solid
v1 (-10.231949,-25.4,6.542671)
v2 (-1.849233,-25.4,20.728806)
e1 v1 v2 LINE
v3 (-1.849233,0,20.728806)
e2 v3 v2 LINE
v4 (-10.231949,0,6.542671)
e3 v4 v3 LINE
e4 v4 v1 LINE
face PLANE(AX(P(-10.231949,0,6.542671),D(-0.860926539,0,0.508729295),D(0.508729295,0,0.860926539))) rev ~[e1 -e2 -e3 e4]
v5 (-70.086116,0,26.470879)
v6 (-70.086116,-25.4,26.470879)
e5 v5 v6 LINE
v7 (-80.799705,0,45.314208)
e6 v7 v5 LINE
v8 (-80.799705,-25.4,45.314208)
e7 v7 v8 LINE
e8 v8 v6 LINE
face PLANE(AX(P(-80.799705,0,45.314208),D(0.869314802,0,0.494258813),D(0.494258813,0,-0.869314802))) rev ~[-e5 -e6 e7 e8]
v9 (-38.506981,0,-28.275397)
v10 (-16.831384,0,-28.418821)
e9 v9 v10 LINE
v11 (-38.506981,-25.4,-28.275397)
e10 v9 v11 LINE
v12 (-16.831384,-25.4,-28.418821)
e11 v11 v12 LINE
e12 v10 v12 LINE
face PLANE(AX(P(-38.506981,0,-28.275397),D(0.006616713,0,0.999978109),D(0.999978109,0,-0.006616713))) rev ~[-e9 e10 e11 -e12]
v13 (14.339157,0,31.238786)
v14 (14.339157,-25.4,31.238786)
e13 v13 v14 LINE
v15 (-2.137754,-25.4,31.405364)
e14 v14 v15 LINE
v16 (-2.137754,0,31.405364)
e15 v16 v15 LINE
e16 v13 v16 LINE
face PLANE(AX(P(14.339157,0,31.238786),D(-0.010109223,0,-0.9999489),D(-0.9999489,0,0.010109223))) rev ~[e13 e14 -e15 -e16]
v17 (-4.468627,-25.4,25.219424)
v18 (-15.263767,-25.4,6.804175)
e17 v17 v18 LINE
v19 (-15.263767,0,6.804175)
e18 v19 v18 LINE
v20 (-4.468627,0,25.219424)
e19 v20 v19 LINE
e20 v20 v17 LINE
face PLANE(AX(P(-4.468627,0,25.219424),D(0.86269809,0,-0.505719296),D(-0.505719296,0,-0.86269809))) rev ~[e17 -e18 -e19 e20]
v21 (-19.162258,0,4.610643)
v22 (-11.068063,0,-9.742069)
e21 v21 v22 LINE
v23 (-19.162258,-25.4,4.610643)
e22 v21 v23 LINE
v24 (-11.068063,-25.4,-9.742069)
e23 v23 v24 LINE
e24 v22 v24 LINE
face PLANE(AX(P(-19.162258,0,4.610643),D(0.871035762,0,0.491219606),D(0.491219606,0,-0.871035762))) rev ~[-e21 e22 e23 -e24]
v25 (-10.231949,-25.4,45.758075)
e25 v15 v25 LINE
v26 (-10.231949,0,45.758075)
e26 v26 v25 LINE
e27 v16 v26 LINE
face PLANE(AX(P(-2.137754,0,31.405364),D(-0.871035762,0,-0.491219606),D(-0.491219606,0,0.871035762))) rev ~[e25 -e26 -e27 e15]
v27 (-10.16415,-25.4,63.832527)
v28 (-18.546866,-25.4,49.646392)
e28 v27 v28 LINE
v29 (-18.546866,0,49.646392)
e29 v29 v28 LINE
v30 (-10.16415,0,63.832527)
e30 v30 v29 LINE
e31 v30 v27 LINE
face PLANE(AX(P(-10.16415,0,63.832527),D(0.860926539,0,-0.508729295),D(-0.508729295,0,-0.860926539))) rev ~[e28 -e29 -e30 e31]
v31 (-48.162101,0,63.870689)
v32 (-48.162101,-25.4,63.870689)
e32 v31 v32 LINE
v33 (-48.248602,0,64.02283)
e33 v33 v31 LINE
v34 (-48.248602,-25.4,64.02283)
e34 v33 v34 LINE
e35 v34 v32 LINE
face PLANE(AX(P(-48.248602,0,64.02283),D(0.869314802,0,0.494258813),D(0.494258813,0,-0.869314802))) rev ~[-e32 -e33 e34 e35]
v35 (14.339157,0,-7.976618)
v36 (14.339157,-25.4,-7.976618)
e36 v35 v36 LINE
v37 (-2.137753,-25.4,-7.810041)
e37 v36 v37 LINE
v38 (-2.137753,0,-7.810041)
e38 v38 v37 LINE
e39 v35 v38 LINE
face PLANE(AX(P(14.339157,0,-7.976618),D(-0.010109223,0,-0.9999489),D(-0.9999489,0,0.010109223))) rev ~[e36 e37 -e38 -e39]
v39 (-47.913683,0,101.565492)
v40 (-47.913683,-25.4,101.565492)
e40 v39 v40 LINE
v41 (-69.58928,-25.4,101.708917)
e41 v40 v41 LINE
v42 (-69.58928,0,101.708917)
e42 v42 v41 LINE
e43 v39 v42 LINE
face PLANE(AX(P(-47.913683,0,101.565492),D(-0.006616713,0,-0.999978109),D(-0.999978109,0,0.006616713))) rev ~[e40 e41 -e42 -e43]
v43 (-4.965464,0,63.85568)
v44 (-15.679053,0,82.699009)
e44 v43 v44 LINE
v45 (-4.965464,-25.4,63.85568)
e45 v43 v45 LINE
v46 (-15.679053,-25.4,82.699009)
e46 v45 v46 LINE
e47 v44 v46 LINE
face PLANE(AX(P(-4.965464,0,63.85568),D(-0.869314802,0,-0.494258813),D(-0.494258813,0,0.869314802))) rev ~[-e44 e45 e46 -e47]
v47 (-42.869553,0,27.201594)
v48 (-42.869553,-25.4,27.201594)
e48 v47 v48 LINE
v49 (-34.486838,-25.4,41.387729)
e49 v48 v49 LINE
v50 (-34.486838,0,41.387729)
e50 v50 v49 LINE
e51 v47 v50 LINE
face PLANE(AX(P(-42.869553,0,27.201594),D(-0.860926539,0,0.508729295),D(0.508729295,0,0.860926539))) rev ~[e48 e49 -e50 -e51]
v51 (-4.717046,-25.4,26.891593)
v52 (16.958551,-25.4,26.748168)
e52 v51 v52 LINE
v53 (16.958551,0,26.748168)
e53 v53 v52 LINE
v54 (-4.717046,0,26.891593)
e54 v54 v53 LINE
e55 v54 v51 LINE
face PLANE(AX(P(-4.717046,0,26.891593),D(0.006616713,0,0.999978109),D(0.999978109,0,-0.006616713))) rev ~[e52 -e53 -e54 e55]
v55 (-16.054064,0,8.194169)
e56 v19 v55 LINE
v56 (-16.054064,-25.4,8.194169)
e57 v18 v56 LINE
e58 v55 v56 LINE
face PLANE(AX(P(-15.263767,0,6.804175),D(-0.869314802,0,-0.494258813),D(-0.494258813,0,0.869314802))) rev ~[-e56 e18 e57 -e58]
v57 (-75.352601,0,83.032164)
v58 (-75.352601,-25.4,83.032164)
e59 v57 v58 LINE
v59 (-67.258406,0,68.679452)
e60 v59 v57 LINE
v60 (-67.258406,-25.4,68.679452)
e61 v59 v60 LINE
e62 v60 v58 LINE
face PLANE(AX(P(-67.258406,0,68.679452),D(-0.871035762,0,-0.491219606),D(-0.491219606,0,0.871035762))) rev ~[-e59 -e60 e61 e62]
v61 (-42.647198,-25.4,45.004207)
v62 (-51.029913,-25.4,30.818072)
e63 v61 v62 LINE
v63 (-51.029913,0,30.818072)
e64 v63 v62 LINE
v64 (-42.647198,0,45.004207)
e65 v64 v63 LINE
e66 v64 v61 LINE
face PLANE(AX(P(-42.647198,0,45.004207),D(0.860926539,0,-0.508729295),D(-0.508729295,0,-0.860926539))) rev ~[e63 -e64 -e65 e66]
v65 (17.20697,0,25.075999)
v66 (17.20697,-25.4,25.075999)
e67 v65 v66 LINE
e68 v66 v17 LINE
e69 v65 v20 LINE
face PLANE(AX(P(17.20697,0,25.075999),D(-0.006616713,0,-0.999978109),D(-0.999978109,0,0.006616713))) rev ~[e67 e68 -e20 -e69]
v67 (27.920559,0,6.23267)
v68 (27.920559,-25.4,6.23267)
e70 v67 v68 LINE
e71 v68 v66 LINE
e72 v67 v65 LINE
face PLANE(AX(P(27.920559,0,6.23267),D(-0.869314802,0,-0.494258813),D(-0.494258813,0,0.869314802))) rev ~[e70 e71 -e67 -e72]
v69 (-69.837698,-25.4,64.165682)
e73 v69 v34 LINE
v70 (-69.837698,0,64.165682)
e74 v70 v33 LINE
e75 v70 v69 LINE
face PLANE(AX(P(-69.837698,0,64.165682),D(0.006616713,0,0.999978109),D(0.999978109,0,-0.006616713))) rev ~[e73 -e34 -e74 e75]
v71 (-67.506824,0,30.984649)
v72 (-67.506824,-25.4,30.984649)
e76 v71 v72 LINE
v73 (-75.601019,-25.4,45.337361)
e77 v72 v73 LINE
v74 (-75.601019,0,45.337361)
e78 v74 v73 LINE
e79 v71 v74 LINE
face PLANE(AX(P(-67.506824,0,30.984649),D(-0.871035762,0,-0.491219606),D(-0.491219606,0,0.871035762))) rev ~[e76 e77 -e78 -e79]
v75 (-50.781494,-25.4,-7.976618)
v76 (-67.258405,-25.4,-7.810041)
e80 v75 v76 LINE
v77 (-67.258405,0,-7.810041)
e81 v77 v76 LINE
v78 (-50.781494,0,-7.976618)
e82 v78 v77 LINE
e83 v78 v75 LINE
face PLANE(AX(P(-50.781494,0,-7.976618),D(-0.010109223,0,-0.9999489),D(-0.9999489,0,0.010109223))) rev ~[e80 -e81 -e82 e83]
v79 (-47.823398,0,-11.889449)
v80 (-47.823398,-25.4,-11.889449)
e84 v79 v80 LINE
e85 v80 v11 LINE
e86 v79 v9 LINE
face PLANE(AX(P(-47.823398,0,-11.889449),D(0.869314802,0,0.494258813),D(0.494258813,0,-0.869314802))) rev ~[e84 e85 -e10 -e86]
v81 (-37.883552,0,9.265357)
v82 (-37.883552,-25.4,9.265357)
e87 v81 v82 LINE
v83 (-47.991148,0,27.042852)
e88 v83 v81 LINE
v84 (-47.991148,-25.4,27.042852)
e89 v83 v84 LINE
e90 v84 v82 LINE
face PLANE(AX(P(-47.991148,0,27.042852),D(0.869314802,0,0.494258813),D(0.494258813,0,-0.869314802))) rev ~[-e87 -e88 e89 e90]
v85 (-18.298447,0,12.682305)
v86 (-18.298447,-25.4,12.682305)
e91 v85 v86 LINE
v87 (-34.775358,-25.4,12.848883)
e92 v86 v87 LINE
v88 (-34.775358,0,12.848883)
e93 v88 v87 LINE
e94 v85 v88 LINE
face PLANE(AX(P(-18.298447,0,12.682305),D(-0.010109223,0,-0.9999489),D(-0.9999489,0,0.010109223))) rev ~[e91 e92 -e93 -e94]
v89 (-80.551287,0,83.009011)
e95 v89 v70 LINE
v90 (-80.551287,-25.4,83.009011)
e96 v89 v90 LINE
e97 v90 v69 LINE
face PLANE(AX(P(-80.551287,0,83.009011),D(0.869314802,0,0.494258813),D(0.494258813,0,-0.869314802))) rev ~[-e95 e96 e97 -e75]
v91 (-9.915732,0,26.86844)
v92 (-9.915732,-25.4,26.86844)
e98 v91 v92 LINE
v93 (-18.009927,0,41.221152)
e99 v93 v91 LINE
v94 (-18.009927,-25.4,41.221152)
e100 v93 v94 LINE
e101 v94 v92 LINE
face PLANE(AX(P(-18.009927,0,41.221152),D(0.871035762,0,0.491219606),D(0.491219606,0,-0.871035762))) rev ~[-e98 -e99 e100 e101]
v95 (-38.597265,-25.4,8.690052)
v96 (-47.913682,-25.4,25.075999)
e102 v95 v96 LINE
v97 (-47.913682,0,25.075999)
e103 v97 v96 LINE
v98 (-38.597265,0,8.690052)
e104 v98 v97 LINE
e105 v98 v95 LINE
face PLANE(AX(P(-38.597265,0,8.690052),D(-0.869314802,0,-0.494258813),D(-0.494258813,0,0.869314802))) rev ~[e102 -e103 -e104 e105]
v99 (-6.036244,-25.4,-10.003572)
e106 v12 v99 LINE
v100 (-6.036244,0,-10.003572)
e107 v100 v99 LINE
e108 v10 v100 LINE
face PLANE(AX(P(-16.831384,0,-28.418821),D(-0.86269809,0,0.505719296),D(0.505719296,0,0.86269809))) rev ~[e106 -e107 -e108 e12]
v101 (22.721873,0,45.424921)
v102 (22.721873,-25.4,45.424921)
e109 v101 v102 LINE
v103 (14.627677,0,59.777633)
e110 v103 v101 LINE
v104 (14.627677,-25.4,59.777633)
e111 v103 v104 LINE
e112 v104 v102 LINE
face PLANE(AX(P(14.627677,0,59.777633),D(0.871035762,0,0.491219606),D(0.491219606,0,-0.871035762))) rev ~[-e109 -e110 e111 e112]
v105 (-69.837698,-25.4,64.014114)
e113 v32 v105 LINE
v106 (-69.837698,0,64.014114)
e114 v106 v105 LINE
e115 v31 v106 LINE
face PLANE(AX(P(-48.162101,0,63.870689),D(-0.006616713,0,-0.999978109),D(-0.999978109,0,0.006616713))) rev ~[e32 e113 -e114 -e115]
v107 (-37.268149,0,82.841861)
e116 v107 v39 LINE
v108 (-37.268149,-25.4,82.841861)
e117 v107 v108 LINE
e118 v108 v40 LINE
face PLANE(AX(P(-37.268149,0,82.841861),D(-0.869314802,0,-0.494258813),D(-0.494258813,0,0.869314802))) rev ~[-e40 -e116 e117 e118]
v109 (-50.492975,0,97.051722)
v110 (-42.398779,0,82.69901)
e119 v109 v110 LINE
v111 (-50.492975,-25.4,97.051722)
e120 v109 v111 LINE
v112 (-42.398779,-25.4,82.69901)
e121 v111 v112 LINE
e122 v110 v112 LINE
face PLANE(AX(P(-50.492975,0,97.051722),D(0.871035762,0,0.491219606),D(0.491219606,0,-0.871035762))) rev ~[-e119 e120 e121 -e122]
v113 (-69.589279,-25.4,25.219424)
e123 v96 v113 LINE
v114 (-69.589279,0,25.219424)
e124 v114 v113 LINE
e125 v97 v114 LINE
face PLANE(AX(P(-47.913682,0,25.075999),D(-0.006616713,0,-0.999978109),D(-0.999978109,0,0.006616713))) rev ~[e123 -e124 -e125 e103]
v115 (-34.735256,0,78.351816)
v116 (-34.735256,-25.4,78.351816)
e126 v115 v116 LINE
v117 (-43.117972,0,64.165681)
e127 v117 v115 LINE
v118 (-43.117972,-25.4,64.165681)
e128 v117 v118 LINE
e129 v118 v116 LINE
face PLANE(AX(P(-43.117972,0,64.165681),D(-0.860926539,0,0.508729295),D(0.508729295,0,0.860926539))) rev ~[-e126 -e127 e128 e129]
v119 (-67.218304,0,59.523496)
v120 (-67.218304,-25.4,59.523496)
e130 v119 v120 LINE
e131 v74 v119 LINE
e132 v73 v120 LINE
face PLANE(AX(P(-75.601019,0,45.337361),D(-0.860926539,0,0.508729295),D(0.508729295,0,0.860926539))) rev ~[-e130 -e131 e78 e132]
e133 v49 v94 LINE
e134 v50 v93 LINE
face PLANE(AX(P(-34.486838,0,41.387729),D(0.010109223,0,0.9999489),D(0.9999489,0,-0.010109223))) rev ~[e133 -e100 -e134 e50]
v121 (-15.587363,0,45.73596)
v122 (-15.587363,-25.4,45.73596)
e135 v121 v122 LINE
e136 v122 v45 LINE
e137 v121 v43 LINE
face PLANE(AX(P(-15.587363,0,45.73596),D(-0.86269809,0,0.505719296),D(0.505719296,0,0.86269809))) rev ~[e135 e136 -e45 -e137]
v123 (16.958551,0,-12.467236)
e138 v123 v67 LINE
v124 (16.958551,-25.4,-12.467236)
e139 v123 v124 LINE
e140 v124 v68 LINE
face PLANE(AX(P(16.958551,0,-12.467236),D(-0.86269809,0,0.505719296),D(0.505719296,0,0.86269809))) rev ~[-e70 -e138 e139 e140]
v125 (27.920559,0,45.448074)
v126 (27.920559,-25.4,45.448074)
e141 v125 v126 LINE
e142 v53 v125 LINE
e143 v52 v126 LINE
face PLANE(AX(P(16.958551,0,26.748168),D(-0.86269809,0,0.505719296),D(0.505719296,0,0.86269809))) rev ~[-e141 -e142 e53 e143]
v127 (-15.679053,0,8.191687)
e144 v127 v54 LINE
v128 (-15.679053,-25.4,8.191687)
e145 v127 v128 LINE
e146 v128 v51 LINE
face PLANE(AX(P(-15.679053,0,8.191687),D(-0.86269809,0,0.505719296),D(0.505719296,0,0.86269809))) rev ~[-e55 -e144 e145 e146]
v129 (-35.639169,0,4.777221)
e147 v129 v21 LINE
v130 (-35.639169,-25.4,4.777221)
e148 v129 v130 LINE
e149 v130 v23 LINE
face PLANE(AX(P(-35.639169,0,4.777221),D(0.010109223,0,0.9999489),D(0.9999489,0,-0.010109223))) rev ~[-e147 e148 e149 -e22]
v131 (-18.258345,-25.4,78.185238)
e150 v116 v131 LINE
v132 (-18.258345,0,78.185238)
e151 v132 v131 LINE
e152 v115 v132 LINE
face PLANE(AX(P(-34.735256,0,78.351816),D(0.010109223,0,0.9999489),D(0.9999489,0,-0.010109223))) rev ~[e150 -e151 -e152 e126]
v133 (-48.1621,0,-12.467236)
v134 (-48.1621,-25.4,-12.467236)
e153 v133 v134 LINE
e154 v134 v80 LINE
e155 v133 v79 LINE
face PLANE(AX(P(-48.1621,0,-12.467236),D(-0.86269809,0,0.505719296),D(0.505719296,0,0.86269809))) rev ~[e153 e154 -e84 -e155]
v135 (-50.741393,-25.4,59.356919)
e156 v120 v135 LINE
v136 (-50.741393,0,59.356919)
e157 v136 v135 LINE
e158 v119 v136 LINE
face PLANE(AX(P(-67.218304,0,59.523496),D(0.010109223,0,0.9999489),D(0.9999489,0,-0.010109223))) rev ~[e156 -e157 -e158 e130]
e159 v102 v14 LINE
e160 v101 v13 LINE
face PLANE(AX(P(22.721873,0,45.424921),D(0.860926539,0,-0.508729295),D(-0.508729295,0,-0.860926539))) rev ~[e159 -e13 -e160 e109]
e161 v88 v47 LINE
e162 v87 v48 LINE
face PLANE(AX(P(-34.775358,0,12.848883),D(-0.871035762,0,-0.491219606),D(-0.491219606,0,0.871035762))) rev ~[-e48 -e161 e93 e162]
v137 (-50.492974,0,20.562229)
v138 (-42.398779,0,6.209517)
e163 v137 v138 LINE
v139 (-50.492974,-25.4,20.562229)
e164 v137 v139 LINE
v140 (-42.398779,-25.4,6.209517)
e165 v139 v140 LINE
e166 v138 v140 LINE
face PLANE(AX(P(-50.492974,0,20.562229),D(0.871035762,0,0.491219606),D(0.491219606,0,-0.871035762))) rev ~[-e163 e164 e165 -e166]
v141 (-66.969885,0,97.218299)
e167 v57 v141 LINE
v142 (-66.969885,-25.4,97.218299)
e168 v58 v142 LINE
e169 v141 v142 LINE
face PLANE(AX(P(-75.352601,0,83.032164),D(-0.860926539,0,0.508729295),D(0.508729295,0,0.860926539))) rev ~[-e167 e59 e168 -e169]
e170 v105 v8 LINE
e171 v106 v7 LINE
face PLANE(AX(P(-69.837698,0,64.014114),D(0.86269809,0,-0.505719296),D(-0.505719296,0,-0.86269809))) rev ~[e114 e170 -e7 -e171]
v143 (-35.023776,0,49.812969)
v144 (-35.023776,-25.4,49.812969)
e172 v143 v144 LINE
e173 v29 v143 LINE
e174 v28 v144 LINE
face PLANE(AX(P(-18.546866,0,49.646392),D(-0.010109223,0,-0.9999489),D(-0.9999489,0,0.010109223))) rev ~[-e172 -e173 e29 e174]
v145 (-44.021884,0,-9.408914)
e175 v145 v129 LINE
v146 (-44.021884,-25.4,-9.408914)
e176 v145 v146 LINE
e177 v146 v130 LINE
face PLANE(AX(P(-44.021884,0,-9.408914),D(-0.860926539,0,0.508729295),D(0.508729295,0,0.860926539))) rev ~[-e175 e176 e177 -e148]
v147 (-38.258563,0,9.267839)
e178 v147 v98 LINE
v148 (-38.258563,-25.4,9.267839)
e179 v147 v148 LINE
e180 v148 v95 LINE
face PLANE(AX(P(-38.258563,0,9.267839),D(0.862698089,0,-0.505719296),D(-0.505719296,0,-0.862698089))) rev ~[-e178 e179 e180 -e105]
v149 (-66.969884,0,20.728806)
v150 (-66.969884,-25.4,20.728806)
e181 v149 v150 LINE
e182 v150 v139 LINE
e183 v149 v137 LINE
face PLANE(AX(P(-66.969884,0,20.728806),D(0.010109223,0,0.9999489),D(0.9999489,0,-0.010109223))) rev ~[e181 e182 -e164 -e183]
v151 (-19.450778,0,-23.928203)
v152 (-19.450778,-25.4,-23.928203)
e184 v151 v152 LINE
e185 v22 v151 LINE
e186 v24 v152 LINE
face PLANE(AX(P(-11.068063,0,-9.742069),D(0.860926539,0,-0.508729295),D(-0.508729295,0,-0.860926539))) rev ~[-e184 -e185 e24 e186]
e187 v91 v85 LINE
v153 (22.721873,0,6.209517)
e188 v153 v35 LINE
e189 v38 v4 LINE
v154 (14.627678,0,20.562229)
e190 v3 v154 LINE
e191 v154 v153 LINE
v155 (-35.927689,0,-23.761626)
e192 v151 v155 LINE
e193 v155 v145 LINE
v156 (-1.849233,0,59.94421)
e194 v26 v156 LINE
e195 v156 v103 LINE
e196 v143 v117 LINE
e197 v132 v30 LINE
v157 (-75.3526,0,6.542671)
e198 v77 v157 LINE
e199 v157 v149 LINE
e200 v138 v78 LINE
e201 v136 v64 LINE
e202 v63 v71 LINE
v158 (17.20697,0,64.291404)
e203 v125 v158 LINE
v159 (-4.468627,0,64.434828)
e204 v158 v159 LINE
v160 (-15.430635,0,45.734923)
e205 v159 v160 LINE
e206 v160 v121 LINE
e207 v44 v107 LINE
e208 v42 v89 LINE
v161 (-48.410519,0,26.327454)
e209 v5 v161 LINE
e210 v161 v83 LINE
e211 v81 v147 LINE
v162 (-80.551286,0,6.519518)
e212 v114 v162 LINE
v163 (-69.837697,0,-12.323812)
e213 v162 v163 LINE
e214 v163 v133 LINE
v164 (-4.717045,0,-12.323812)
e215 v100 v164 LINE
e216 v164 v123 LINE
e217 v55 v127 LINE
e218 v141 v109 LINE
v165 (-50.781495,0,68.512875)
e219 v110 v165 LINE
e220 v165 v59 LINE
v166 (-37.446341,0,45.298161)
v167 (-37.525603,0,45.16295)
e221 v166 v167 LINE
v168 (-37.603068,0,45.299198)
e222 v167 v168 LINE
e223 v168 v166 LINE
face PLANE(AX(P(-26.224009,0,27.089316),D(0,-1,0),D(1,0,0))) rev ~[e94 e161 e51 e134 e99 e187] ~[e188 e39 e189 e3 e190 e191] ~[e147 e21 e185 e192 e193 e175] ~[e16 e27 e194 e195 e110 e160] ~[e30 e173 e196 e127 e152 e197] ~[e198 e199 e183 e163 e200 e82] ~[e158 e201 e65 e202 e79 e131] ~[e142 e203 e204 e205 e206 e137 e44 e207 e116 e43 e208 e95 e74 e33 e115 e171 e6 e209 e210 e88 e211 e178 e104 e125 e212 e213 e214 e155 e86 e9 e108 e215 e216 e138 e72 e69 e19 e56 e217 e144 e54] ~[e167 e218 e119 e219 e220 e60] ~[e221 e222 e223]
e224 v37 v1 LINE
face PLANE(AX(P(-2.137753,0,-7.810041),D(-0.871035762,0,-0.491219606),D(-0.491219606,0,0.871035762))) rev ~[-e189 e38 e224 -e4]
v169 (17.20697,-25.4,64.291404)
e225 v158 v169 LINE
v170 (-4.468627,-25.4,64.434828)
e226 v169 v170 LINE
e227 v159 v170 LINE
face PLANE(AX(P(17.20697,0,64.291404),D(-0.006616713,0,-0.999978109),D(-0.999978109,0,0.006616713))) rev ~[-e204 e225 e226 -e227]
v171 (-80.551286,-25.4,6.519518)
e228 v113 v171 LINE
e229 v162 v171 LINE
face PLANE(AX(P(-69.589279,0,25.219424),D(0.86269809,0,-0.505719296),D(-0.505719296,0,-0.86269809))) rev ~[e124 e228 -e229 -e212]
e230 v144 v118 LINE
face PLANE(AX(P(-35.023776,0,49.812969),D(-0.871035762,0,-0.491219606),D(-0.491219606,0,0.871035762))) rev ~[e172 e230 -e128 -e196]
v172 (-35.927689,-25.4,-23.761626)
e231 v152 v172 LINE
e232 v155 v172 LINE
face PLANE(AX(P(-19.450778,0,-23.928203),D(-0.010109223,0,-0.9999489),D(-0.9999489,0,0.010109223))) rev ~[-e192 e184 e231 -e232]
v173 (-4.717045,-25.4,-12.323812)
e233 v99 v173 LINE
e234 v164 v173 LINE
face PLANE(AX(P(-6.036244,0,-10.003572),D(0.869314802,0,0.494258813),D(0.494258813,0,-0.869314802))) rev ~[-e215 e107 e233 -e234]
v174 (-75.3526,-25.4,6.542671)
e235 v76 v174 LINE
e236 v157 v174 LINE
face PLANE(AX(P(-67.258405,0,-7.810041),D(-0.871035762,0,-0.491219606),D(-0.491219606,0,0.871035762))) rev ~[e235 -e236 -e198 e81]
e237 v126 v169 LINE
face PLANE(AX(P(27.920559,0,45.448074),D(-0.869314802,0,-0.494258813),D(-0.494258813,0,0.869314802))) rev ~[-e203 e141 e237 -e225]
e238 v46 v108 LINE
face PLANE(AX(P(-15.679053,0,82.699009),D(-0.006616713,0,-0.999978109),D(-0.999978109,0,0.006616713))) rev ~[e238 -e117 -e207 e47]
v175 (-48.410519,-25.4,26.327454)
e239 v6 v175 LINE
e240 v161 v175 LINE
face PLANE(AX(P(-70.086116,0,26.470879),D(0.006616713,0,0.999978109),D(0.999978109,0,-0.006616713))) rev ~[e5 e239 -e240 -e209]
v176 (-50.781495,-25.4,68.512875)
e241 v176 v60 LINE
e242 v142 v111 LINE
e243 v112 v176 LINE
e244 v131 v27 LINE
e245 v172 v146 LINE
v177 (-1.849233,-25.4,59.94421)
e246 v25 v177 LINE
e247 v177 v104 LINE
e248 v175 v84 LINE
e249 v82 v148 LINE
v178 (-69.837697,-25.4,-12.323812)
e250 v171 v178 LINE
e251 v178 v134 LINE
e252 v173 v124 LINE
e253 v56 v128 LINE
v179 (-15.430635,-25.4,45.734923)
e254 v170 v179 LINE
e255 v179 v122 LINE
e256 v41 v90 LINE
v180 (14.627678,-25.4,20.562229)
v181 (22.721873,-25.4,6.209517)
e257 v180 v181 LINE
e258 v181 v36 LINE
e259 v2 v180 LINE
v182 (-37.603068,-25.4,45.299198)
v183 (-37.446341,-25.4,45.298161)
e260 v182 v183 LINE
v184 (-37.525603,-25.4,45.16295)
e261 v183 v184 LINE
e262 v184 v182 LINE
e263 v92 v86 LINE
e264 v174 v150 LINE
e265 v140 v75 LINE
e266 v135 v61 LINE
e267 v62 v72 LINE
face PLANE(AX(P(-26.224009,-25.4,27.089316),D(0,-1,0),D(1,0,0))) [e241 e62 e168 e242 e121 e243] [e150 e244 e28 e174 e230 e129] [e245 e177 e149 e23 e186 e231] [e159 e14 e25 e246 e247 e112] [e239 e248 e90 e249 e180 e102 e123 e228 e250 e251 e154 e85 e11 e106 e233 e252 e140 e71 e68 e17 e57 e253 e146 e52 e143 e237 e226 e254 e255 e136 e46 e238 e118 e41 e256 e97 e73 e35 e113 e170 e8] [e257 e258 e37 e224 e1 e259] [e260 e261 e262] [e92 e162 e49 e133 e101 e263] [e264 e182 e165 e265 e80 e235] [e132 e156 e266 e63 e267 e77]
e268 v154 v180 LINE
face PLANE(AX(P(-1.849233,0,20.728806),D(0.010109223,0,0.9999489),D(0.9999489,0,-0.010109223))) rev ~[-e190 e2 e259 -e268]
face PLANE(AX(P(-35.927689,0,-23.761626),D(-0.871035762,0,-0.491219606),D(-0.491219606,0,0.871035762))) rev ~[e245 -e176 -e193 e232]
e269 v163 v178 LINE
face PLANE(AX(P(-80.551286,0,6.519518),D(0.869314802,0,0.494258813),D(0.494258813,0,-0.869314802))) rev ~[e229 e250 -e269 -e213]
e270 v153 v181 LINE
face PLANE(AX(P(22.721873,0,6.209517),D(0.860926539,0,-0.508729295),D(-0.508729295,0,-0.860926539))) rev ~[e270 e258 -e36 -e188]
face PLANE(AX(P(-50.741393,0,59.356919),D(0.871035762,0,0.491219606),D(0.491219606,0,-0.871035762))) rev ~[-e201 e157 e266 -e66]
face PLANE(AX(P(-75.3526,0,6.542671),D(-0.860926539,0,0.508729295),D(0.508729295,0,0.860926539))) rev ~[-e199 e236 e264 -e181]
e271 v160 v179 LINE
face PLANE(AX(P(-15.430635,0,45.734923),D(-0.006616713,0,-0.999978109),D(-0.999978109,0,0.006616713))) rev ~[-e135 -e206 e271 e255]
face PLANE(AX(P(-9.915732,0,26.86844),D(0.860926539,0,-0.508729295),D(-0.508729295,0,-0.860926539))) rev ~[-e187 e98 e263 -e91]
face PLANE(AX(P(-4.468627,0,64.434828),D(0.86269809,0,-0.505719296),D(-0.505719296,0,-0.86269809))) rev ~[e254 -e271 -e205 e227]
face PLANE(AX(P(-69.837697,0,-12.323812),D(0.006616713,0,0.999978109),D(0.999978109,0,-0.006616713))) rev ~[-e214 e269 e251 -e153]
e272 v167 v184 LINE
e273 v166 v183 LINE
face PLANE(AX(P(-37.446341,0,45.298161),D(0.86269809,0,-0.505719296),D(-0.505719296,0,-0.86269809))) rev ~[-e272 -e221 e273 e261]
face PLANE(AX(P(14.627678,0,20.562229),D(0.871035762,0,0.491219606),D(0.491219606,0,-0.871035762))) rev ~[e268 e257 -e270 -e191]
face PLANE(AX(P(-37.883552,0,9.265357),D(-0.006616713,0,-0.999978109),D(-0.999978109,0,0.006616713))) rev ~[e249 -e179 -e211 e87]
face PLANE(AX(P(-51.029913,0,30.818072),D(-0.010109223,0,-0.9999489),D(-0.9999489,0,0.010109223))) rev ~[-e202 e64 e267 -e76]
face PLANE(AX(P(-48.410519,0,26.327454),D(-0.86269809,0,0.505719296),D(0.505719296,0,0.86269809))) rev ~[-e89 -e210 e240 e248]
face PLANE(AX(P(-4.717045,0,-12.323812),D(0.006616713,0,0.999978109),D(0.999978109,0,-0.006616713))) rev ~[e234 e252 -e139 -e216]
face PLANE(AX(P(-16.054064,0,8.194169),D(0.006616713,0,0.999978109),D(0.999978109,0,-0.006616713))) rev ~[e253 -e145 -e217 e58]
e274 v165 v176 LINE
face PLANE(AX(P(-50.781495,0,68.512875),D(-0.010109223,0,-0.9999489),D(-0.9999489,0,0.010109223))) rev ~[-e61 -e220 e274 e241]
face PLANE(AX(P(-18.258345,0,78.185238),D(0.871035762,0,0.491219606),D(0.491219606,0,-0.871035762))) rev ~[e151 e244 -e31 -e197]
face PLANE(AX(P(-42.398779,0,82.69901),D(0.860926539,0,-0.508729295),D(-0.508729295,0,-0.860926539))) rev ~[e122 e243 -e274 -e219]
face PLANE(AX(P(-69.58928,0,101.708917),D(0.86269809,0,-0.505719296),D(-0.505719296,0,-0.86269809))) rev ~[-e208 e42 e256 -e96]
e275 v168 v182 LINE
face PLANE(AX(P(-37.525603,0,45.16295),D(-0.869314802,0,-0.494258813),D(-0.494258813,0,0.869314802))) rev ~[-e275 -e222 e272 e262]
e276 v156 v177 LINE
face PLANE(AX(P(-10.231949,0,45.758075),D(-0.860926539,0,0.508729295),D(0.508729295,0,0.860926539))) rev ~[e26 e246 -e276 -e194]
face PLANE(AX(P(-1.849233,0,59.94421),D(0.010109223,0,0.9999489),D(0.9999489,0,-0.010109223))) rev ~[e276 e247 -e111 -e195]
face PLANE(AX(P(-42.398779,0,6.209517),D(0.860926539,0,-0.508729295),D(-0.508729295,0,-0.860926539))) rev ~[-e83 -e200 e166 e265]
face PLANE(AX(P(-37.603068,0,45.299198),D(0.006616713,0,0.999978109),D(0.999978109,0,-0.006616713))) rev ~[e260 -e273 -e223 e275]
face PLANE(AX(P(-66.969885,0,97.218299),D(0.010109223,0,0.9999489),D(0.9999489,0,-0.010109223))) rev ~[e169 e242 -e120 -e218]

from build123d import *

# Parameters (mm, degrees)
F1_DEPTH = 25.4


with BuildPart() as f1:
    # F0 (on Front) → F1 (new body)
    with BuildSketch(Plane.XZ):
        Polygon((-37.5256026256, 45.1629495667), (-37.4485114416, 45.027359658), (-47.9911484283, 27.0428515349), (-37.8835519015, 9.2653571548), (-16.5829657817, 9.1244142096), (-16.054064132, 8.1941687175), (-15.6790532896, 8.1916873242), (-4.7170456877, 26.8915927664), (-15.4306350481, 45.7349225472), (-15.5873630008, 45.7359595938), (-15.927471531, 45.1557741399), (-37.4463405407, 45.2981614319), align=None)
        Polygon((-18.0099271589, 41.2211516747), (-9.9157319855, 26.8684398219), (-18.2984474766, 12.6823052521), (-34.7753581411, 12.8488825352), (-42.8695533144, 27.2015943881), (-34.4868378233, 41.3877289578), align=None, mode=Mode.SUBTRACT)
        Polygon((-47.9911484283, 27.0428515349), (-37.4485114416, 45.027359658), (-37.5256026256, 45.1629495667), (-48.0682396123, 27.1784414436), align=None)
        Polygon((-48.4105190435, 26.3274542158), (-47.9911484283, 27.0428515349), (-48.0682396123, 27.1784414436), (-37.5256026256, 45.1629495667), (-37.6030684933, 45.2991984785), (-48.1621008021, 63.8706894388), (-69.8376977643, 64.0141137774), (-80.7997053662, 45.3142083352), (-70.0861160058, 26.4708785543), align=None)
        Polygon((-50.7413929128, 59.3569185663), (-42.6471977395, 45.0042067135), (-51.0299132306, 30.8180721437), (-67.506823895, 30.9846494268), (-75.6010190684, 45.3373612797), (-67.2183035773, 59.5234958494), align=None, mode=Mode.SUBTRACT)
        Polygon((-16.5829657817, 9.1244142096), (-37.8835519015, 9.2653571548), (-37.3546502519, 8.3351116627), (-16.054064132, 8.1941687175), align=None)
        Polygon((-37.3546502519, 8.3351116627), (-37.8835519015, 9.2653571548), (-38.2585627439, 9.2678385482), (-38.5972650026, 8.6900520296), (-37.2000922861, 6.2326695996), (-47.8233976294, -11.889449324), (-38.5069809854, -28.2753966749), (-16.8313840231, -28.4188210135), (-6.0362439524, -10.003572102), (-15.430634824, 6.5195182768), (-15.2637672928, 6.8041748076), (-16.054064132, 8.1941687175), align=None)
        Polygon((-19.1622578925, 4.6106433371), (-11.0680627191, -9.7420685157), (-19.4507782102, -23.9282030855), (-35.9276888746, -23.7616258024), (-44.021884048, -9.4089139495), (-35.6391685569, 4.7772206202), align=None, mode=Mode.SUBTRACT)
        Polygon((-48.1621008021, 63.8706894388), (-37.6030684933, 45.2991984785), (-37.4463405407, 45.2981614319), (-37.1062320104, 45.8783468858), (-15.5873630008, 45.7359595938), (-4.9654639292, 63.8556795821), (-15.6790532896, 82.6990093629), (-37.2681492183, 82.8418613365), (-37.2000932002, 82.7221627042), (-48.1621008021, 64.022257262), (-48.2486018356, 64.022829627), align=None)
        Polygon((-18.2583454004, 78.1852384904), (-10.164150227, 63.8325266376), (-18.5468657181, 49.6463920679), (-35.0237763825, 49.8129693509), (-43.1179715559, 64.1656812038), (-34.7352560648, 78.3518157735), align=None, mode=Mode.SUBTRACT)
        Polygon((-37.1062320104, 45.8783468858), (-37.4463405407, 45.2981614319), (-15.927471531, 45.1557741399), (-15.5873630008, 45.7359595938), align=None)
        Polygon((-49.2205703458, -9.4320668941), (-38.5972650026, 8.6900520296), (-47.9136816466, 25.0759993804), (-69.5892786088, 25.219423719), (-80.5512862107, 6.5195182768), (-69.8376968503, -12.323811504), (-48.162099888, -12.4672358426), (-47.8233976294, -11.889449324), align=None)
        Polygon((-50.4929737574, 20.562228508), (-42.398778584, 6.2095166551), (-50.7814940751, -7.9766179146), (-67.2584047395, -7.8100406315), (-75.3525999129, 6.5426712213), (-66.9698844218, 20.7288057911), align=None, mode=Mode.SUBTRACT)
        Polygon((-37.2000922861, 6.2326695996), (-38.5972650026, 8.6900520296), (-49.2205703458, -9.4320668941), (-47.8233976294, -11.889449324), align=None)
        Polygon((-69.8376977643, 64.1656816006), (-48.2486018356, 64.022829627), (-48.3166578537, 64.1425282593), (-37.3546502519, 82.8424337015), (-37.2681492183, 82.8418613365), (-47.9136825606, 101.565492485), (-69.5892795229, 101.7089168236), (-80.5512871247, 83.0090113814), align=None)
        Polygon((-50.4929746714, 97.0517216126), (-42.398779498, 82.6990097597), (-50.7814949891, 68.51287519), (-67.2584056535, 68.6794524731), (-75.3526008269, 83.0321643259), (-66.9698853358, 97.2182988957), align=None, mode=Mode.SUBTRACT)
        Polygon((-48.3166578537, 64.1425282593), (-48.2486018356, 64.022829627), (-48.1621008021, 64.022257262), (-37.2000932002, 82.7221627042), (-37.2681492183, 82.8418613365), (-37.3546502519, 82.8424337015), align=None)
        Polygon((-5.8693764213, -9.7189155712), (-15.2637672928, 6.8041748076), (-15.430634824, 6.5195182768), (-6.0362439524, -10.003572102), align=None)
        Polygon((-4.4686272222, 25.219423719), (-15.2637672928, 6.8041748076), (-5.8693764213, -9.7189155712), (-6.0362439524, -10.003572102), (-4.7170454636, -12.323811504), (16.9585514987, -12.4672358426), (27.9205591005, 6.2326695996), (17.2069697401, 25.0759993804), align=None)
        Polygon((14.6276776293, 20.562228508), (22.7218728027, 6.2095166551), (14.3391573116, -7.9766179146), (-2.1377533528, -7.8100406315), (-10.2319485262, 6.5426712213), (-1.8492330351, 20.7288057911), align=None, mode=Mode.SUBTRACT)
        Polygon((-4.4686274462, 64.4348279895), (-15.4306350481, 45.7349225472), (-4.7170456877, 26.8915927664), (16.9585512746, 26.7481684278), (27.9205588764, 45.4480738701), (17.206969516, 64.2914036509), align=None)
        Polygon((14.6276774052, 59.7776327784), (22.7218725786, 45.4249209255), (14.3391570875, 31.2387863558), (-2.1377535769, 31.4053636389), (-10.2319487503, 45.7580754917), (-1.8492332592, 59.9442100615), align=None, mode=Mode.SUBTRACT)
    extrude(amount=F1_DEPTH)


solid = f1.part
